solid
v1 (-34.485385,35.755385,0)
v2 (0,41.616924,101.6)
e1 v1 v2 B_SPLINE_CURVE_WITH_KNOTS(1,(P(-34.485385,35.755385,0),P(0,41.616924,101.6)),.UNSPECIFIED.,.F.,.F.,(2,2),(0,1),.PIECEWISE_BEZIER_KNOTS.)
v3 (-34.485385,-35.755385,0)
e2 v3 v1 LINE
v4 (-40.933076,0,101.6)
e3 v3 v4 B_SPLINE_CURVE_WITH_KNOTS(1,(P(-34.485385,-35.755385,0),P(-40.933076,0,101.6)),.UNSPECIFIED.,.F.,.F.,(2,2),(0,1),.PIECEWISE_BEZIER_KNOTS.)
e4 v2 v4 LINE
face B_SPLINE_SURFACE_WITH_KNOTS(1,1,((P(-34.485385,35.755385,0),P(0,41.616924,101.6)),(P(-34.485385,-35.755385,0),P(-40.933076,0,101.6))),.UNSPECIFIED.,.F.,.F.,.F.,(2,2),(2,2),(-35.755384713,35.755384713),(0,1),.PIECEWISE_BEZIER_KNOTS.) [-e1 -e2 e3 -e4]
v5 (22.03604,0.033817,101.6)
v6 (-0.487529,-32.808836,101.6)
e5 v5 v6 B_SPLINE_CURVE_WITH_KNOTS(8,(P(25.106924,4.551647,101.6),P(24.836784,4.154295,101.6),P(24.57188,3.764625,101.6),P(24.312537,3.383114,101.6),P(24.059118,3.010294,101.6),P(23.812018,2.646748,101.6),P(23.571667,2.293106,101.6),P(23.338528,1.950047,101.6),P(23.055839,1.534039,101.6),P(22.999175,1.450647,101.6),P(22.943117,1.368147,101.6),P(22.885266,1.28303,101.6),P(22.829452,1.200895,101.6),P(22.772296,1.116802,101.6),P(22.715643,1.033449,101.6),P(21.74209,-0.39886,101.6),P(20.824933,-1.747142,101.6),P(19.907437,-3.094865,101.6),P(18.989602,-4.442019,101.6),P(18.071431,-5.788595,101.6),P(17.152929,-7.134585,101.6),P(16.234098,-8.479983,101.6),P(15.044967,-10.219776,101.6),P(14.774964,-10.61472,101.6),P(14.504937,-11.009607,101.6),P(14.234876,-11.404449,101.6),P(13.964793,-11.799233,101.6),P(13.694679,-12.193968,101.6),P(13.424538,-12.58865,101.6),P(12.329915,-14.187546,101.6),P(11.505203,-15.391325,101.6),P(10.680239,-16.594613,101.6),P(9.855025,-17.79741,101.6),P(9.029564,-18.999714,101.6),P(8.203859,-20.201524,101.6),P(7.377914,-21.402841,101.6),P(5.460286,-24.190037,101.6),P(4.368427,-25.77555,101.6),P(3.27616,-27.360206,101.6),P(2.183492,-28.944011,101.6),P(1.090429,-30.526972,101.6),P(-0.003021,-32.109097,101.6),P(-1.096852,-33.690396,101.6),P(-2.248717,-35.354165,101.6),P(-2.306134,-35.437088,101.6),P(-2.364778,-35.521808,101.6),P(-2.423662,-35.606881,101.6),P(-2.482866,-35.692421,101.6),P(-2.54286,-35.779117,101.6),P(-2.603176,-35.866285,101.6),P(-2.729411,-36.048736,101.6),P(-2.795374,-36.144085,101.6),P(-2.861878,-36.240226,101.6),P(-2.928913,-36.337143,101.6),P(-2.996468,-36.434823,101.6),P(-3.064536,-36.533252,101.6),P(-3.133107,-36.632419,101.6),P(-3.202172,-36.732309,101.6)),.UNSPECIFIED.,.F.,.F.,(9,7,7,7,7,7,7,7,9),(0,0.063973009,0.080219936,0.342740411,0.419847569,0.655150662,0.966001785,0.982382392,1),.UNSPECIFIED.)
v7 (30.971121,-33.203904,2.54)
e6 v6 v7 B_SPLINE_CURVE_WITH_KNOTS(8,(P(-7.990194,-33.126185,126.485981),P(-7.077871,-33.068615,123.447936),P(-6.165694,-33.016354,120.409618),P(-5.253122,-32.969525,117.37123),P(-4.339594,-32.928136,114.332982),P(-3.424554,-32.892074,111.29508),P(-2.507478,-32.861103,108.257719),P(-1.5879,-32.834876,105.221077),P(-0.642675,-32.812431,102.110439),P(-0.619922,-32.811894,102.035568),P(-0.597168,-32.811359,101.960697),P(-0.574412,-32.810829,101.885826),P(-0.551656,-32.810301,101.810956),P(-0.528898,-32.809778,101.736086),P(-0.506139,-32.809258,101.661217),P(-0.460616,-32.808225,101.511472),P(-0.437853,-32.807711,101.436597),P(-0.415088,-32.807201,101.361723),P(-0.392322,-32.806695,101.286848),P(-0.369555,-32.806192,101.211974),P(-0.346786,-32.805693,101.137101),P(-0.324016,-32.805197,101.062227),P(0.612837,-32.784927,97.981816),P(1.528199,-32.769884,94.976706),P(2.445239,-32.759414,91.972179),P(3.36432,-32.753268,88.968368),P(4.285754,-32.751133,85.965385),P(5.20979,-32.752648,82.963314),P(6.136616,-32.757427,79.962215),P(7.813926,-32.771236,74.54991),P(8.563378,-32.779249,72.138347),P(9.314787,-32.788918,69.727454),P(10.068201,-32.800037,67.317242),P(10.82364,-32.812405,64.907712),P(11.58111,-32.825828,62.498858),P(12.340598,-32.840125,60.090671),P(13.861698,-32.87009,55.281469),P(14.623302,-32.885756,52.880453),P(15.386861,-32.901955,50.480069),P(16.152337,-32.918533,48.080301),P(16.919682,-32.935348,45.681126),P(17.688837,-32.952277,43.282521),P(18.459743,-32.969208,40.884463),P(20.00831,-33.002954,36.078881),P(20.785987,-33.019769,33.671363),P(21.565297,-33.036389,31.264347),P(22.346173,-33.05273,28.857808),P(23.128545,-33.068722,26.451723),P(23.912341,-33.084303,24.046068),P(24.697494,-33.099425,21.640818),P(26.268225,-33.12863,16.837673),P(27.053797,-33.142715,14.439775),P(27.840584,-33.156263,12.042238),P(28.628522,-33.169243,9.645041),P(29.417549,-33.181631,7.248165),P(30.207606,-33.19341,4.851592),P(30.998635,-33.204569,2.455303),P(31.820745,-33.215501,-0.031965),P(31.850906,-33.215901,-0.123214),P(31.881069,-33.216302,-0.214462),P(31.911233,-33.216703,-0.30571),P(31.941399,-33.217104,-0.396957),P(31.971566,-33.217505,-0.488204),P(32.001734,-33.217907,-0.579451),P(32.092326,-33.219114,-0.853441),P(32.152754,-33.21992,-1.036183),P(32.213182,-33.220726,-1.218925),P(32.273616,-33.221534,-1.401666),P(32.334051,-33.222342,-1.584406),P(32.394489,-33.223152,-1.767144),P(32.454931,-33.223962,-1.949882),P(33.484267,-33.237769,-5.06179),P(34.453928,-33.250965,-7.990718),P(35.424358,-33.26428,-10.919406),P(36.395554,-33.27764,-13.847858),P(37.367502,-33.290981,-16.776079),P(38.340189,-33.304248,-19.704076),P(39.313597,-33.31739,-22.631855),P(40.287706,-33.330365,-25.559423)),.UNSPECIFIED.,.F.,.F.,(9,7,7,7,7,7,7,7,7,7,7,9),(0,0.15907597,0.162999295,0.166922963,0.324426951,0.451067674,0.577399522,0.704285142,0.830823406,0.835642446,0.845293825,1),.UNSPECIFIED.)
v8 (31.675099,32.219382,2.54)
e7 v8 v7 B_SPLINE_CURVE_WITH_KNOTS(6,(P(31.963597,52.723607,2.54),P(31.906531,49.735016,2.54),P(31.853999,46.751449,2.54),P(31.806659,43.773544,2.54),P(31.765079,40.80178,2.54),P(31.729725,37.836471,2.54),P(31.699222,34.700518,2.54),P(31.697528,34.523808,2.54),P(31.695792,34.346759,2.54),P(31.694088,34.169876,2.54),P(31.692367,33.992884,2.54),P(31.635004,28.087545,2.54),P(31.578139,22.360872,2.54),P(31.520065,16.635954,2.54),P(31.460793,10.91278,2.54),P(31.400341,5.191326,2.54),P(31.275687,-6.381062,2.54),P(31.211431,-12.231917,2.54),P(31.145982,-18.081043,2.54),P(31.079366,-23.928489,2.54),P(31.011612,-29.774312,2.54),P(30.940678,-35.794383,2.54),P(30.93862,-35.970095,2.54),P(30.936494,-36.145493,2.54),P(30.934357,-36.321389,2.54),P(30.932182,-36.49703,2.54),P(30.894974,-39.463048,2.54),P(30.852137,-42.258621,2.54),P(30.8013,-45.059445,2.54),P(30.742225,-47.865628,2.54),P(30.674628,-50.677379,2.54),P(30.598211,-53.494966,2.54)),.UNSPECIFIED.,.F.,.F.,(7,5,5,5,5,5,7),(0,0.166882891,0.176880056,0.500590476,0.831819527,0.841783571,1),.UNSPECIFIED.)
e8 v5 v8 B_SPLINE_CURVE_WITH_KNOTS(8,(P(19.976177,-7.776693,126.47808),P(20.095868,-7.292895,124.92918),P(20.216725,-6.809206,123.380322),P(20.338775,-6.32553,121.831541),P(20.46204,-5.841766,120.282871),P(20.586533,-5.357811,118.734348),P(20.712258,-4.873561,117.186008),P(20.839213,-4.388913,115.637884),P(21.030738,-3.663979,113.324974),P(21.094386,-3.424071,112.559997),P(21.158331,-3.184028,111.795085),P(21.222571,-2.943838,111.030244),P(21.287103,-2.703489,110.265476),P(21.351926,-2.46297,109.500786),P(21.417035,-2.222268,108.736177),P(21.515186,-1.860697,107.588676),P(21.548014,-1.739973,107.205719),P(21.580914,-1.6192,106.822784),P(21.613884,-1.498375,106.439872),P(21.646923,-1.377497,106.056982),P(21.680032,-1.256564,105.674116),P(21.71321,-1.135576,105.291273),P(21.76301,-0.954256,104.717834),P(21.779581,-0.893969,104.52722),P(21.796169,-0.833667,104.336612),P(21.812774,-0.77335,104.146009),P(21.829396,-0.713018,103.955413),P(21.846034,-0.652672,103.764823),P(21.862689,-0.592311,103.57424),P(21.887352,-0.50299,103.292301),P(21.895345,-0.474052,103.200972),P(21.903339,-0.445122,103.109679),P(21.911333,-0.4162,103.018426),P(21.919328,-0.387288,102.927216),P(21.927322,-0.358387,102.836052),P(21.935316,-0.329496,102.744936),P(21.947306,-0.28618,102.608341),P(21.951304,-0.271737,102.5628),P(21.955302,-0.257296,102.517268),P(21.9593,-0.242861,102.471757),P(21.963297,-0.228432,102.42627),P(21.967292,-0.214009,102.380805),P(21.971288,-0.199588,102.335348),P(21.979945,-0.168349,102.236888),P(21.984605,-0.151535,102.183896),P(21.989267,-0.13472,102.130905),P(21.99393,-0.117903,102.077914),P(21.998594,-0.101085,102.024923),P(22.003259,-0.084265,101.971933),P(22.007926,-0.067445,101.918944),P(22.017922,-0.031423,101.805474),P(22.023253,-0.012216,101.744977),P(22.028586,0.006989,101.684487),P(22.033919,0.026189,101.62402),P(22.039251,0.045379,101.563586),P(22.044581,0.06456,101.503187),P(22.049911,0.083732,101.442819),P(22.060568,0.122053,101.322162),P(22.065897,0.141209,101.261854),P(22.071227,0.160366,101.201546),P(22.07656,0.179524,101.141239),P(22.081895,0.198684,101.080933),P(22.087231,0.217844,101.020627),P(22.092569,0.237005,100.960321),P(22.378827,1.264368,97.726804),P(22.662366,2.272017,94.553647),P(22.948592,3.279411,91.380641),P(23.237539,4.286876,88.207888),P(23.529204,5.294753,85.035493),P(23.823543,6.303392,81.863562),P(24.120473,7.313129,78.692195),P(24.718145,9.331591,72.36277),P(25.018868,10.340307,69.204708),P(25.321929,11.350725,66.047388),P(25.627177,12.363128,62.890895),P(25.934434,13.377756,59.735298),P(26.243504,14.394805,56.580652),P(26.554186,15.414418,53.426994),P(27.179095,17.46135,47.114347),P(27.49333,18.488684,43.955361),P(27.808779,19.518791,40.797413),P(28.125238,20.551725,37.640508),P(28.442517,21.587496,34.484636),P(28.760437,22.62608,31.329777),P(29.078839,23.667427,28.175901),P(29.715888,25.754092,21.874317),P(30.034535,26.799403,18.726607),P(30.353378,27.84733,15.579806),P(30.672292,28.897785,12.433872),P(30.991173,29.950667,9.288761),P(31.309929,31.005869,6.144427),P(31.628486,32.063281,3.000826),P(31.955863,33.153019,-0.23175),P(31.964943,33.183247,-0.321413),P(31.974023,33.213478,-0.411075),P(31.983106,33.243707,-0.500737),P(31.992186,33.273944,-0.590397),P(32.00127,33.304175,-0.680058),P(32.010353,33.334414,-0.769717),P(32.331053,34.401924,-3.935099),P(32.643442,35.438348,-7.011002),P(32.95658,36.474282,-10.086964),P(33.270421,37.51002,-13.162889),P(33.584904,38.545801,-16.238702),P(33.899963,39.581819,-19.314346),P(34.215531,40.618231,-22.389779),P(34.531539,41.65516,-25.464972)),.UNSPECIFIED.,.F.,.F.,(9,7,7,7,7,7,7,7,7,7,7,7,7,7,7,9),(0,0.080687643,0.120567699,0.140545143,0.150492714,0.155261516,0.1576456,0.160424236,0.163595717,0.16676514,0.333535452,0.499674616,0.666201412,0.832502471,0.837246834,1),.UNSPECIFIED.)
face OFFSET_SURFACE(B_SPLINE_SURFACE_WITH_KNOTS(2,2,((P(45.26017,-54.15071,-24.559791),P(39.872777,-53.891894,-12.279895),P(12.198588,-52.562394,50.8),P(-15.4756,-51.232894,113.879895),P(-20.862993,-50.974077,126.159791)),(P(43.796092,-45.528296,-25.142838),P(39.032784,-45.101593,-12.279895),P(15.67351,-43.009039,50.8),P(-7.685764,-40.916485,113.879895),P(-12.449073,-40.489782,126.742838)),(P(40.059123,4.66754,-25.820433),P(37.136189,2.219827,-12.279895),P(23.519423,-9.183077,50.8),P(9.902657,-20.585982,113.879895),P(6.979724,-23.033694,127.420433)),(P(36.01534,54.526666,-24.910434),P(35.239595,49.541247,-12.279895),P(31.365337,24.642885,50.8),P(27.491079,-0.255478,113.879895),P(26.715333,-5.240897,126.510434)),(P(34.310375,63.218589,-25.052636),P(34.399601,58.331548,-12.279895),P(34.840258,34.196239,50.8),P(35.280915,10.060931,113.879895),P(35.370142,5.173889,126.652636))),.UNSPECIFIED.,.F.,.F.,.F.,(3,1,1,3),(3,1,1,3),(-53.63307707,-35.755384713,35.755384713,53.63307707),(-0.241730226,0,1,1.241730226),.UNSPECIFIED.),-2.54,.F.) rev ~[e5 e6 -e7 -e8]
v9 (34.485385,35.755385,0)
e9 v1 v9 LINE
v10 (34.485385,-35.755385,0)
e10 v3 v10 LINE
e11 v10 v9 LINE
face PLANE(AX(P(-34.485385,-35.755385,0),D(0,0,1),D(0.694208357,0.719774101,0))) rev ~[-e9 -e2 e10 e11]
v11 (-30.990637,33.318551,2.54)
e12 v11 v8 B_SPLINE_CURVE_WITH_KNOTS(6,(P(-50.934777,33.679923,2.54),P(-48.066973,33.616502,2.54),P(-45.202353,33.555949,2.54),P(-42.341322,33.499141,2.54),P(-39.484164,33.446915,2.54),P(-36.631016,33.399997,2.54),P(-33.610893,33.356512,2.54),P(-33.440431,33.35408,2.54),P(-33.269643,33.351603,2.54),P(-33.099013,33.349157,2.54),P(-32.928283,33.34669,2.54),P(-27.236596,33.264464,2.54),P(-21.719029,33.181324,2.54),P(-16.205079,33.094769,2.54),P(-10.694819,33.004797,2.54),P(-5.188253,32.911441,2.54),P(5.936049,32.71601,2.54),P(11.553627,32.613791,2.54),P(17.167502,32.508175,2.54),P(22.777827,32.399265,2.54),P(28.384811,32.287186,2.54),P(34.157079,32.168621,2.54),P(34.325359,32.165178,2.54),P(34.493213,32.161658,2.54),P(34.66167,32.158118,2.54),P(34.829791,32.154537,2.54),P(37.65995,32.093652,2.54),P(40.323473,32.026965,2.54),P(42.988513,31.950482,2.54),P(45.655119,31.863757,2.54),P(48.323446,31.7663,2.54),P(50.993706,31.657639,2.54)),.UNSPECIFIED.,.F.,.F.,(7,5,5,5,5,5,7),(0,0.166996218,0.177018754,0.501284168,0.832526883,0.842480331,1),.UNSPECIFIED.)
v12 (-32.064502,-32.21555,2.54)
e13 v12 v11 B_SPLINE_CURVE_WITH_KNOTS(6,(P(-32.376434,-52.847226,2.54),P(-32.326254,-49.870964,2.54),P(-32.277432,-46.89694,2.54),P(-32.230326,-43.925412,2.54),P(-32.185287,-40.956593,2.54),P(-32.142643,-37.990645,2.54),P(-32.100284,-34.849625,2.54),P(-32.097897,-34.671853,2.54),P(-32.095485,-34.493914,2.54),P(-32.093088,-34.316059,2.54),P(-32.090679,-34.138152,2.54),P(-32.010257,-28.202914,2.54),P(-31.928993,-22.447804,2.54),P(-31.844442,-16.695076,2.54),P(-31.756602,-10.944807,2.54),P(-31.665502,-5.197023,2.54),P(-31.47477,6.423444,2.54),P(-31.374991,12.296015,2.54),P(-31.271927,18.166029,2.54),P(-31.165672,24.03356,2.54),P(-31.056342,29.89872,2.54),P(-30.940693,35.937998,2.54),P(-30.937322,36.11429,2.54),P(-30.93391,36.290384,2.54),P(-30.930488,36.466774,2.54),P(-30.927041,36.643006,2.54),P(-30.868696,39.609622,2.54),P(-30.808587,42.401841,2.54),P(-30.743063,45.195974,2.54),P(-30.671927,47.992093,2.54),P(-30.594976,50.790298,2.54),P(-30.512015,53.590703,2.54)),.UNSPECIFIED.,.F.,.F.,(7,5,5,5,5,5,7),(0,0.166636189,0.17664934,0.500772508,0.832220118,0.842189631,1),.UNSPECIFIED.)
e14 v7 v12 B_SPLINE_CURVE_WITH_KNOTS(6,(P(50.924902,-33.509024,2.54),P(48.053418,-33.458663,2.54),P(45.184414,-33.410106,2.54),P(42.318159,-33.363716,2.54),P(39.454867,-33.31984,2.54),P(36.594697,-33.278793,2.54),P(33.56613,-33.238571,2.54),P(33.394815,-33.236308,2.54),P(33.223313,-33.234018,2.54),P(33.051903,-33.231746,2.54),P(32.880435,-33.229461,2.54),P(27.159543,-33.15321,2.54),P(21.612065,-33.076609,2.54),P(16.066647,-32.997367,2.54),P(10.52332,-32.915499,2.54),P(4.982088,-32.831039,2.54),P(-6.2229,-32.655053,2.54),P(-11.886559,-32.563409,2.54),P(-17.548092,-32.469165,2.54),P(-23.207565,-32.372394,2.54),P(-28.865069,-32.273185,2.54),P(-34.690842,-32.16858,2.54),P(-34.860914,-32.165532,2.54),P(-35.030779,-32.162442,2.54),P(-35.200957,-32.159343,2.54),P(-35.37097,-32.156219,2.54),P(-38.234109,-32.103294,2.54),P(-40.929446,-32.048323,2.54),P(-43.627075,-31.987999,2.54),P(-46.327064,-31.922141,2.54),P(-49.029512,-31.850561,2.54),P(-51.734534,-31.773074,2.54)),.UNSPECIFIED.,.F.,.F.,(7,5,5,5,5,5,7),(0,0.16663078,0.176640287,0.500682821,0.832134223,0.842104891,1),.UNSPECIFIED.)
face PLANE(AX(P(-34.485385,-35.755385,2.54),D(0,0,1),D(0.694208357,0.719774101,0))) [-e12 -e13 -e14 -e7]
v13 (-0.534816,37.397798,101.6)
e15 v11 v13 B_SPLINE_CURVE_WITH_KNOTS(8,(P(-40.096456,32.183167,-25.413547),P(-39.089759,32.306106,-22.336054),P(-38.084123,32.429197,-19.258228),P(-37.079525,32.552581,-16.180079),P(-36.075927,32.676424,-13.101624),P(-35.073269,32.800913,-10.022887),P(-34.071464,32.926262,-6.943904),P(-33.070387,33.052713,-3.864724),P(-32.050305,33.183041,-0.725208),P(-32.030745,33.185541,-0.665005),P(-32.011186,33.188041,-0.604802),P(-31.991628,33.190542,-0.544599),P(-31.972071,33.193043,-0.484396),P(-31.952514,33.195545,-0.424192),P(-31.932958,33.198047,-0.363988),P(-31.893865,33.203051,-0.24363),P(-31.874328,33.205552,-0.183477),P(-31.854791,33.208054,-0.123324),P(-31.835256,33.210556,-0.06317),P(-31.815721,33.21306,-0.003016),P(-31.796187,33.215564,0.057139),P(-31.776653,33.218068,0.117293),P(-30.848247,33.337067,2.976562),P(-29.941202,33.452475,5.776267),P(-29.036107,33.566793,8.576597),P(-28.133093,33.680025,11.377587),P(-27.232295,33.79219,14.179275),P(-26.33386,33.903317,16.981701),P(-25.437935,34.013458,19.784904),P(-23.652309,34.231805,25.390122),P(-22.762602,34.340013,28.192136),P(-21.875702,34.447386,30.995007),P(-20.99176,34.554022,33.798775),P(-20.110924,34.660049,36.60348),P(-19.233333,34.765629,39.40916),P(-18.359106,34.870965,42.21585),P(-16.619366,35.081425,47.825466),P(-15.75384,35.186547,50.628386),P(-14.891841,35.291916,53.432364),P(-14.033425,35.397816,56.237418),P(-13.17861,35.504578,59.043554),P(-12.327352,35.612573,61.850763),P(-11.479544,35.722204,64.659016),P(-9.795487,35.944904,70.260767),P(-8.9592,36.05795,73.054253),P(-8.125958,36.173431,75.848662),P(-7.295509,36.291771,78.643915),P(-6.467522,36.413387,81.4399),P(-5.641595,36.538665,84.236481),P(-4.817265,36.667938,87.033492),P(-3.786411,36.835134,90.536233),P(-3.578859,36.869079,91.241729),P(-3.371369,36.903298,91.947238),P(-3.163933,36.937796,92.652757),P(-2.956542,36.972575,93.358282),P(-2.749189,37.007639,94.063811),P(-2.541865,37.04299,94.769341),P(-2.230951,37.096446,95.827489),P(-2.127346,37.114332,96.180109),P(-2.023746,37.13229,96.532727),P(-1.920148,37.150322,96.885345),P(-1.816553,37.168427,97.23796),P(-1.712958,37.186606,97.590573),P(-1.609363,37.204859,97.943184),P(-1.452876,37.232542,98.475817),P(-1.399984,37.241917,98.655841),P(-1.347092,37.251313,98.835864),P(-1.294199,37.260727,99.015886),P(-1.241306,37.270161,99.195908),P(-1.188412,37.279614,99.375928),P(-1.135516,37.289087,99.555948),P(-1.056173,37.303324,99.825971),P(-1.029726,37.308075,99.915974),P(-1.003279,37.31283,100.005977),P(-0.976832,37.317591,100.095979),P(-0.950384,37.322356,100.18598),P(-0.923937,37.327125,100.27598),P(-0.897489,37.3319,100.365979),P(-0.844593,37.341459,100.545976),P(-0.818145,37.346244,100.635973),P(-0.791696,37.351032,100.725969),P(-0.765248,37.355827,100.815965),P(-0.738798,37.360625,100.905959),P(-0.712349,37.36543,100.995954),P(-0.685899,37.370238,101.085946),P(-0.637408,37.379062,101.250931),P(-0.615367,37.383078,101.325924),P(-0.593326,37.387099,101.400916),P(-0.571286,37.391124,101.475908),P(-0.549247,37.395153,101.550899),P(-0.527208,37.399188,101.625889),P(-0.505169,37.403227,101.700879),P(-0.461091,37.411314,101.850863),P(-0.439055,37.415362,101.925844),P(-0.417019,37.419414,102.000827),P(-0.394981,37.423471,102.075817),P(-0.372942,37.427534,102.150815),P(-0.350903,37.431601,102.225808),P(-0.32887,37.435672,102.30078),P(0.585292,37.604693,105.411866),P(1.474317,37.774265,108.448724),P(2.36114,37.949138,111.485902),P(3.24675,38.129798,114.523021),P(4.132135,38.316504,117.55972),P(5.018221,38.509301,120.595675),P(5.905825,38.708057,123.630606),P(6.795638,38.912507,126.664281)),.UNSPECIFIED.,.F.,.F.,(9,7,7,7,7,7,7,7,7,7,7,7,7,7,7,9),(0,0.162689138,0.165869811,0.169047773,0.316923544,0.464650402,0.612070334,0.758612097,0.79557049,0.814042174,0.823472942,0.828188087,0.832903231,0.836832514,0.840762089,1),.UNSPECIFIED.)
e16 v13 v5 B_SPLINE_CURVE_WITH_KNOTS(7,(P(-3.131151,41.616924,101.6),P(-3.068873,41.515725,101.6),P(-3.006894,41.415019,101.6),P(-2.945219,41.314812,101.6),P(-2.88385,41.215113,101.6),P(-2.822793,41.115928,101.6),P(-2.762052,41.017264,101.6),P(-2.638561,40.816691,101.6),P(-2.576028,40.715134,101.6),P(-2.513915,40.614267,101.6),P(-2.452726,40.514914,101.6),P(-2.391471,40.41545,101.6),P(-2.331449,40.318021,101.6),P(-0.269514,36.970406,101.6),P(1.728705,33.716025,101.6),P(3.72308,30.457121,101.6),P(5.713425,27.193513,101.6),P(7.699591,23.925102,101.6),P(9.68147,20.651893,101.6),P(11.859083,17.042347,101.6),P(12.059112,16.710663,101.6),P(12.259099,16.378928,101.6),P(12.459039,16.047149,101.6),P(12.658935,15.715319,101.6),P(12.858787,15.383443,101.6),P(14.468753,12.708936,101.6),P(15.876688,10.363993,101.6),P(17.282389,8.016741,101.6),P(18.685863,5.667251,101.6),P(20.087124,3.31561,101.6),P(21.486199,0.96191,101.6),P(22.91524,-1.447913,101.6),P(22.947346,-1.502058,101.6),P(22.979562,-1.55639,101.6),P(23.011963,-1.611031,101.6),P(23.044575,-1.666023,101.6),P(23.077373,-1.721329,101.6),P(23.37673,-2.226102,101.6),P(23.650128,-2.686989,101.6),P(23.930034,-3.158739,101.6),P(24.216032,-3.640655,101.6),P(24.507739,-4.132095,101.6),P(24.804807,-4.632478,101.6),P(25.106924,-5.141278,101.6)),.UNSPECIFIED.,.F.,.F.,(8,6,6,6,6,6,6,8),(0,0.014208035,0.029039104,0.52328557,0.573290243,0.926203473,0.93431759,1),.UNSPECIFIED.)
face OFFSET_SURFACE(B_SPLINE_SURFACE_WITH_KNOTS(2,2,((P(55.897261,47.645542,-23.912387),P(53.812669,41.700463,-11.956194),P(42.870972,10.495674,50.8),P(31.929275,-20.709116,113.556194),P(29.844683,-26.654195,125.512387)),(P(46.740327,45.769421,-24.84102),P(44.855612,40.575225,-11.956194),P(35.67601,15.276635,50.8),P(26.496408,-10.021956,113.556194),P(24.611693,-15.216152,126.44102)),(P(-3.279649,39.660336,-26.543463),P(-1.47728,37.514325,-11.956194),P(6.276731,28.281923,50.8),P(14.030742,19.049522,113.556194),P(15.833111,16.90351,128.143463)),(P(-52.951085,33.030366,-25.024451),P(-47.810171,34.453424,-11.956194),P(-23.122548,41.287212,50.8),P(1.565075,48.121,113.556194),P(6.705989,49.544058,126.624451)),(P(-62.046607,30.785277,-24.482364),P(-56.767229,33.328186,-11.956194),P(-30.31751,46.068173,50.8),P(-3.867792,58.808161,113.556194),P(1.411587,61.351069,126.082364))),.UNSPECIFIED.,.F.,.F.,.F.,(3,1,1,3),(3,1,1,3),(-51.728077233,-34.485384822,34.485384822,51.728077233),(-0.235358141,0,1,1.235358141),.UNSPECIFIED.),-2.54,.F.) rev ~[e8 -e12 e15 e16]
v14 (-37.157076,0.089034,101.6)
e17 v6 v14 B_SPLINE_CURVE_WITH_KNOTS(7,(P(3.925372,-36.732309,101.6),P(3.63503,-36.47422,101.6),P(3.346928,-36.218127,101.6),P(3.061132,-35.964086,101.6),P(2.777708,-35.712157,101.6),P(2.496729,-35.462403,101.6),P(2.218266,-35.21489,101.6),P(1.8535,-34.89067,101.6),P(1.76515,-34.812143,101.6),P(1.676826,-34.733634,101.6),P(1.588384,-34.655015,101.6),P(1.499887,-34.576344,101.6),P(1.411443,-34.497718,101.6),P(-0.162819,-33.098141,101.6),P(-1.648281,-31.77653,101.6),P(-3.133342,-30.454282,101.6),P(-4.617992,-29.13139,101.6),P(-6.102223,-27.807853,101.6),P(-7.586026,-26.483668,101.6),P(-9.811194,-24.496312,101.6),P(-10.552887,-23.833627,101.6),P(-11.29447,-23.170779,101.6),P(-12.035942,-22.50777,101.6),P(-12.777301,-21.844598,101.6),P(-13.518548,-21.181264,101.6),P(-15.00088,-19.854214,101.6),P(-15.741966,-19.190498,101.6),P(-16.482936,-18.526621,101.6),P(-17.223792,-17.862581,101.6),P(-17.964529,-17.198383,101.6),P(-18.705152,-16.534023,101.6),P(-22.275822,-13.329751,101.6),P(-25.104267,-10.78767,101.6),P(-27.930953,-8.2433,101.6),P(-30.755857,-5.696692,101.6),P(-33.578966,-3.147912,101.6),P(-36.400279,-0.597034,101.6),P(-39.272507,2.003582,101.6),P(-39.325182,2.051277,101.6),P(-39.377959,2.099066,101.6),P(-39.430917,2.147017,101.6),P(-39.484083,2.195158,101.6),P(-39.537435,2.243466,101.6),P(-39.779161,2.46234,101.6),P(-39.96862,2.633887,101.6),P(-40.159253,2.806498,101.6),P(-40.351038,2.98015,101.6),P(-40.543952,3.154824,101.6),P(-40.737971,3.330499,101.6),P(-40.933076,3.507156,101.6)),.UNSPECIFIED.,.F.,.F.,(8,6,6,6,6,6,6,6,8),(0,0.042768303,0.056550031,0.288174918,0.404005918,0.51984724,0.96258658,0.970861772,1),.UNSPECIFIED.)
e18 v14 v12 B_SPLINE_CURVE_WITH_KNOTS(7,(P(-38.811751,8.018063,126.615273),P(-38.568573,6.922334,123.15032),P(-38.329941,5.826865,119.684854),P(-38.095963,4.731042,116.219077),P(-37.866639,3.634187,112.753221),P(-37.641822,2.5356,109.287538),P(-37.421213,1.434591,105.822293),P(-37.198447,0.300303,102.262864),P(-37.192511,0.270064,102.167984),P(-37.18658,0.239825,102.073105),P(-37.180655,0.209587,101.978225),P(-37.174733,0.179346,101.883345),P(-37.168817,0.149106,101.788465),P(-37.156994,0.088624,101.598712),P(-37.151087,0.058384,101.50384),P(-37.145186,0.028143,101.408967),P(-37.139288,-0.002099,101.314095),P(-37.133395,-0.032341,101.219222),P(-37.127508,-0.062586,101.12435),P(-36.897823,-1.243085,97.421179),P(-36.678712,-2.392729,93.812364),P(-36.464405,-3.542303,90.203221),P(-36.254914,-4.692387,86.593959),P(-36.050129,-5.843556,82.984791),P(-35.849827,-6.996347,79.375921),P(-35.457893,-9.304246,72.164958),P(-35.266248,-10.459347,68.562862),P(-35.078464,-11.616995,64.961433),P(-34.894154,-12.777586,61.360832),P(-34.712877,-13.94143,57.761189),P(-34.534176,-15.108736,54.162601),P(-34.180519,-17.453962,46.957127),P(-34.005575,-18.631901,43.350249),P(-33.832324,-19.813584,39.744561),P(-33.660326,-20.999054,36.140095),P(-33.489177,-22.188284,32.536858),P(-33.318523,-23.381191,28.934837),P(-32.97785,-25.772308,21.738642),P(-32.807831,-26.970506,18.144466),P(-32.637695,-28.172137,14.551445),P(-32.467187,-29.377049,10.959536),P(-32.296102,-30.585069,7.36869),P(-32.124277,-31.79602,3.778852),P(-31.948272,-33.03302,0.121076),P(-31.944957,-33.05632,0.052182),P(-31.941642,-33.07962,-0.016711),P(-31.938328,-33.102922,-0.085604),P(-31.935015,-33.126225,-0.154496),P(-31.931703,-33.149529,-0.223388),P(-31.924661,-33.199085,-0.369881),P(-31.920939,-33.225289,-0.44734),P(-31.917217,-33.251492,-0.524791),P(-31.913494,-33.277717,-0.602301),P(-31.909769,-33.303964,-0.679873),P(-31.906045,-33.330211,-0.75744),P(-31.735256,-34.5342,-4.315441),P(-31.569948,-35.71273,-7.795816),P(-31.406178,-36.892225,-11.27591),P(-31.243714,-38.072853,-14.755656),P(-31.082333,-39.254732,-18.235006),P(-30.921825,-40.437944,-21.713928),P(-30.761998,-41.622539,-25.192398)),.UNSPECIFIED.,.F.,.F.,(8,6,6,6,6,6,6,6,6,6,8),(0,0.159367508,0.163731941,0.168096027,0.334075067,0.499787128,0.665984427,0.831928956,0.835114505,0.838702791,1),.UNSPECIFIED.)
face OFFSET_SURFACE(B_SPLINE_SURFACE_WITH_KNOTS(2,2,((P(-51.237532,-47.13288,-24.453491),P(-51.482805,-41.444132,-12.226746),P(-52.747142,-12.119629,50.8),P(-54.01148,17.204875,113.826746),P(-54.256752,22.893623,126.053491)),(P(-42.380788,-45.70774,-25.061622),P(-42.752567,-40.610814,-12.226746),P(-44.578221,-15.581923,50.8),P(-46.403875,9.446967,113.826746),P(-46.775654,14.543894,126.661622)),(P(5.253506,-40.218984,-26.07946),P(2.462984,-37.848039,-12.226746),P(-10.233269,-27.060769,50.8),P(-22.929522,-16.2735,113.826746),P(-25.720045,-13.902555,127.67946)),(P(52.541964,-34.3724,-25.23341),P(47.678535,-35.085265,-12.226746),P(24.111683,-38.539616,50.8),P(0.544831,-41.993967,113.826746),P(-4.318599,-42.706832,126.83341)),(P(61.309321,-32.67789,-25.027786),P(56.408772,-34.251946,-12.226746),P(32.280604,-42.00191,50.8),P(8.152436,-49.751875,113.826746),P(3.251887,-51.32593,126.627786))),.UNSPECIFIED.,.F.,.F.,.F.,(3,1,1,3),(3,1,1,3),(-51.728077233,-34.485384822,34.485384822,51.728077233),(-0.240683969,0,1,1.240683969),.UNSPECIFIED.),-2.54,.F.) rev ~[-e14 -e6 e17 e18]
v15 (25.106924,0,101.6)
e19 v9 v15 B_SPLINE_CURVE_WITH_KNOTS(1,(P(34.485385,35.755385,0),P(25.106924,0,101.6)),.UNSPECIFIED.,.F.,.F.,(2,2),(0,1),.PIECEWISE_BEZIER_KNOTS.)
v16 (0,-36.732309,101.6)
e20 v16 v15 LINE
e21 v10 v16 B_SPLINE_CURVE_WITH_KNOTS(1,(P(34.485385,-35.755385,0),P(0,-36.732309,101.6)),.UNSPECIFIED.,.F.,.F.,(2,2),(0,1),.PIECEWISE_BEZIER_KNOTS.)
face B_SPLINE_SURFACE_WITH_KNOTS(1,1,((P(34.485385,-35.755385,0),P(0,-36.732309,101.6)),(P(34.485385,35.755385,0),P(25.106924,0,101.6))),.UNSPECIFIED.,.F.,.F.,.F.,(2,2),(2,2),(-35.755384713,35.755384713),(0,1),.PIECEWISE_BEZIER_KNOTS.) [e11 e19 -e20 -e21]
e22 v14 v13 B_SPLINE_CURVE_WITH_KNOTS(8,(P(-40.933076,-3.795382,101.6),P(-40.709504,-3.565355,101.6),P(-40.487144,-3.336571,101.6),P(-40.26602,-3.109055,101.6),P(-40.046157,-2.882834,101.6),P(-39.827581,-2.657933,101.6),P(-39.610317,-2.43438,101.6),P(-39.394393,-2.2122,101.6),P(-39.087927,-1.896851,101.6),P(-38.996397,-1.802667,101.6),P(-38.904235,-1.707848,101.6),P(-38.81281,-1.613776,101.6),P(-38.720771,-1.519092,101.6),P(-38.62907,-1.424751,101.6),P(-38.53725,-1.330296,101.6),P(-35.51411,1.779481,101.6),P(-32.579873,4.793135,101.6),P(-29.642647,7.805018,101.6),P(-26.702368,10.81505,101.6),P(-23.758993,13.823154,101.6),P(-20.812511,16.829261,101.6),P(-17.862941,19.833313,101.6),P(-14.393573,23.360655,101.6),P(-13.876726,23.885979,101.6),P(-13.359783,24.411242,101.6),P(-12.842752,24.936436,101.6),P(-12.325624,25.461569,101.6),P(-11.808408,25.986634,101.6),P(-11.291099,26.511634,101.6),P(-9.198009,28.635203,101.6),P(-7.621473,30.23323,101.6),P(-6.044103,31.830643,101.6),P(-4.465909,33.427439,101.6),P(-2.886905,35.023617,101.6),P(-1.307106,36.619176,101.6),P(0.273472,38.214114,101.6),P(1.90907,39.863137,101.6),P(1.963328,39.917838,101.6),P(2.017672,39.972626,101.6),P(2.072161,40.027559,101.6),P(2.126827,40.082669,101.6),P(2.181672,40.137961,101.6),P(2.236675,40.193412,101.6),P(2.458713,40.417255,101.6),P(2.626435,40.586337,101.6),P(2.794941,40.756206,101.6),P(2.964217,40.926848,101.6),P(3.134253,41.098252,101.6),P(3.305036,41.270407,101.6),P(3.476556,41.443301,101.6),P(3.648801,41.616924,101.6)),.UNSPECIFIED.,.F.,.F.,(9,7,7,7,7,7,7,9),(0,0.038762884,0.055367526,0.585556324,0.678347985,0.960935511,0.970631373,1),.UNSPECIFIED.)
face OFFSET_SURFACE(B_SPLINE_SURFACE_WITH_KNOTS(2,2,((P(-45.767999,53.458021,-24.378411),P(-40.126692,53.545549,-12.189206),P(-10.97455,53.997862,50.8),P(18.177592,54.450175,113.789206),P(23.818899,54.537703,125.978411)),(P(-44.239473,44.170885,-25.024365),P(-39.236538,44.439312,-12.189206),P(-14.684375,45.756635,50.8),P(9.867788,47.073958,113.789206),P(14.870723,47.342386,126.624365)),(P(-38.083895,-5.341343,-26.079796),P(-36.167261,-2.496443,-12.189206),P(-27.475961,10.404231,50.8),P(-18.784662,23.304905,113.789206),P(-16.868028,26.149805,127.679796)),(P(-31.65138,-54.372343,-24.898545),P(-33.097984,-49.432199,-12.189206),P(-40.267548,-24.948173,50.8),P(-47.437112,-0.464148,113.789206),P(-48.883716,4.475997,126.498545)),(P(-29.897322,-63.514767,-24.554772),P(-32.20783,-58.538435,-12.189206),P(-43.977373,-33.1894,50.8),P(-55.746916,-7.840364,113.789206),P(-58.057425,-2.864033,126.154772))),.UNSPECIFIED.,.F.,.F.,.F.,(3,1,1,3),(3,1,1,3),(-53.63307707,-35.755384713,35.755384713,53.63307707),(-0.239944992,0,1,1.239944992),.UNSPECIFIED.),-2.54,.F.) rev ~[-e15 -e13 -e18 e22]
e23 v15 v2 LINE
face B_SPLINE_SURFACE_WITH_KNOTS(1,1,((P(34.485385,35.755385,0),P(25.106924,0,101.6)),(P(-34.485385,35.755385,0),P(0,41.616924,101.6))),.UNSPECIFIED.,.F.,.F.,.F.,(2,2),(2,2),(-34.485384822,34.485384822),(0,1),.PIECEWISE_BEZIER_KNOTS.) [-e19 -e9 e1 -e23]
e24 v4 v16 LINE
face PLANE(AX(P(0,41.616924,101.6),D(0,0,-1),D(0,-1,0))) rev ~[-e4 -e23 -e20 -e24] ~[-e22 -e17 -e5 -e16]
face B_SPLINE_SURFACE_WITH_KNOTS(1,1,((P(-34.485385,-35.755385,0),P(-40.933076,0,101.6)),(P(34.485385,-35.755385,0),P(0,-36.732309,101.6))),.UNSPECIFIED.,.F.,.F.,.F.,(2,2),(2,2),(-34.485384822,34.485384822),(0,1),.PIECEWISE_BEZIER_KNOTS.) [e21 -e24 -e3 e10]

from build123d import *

# Parameters (mm, degrees)
F0_W = 68.9707696438
F0_H = 71.5107694268
F4_T = -2.54


with BuildPart() as f3:
    # F0 (on Top) → F3 section 0
    with BuildSketch(Plane.XY):
        Rectangle(F0_W, F0_H)
    # F2 (on offset) → F3 section 1
    with BuildSketch(Plane.XY.offset(101.6)):
        Polygon((25.1069236547, 0), (0, 41.6169241071), (-40.9330762923, 0), (0, -36.7323085666), align=None)
    loft()

    # F4
    f4_openings = [f3.faces().sort_by_distance(p)[0] for p in [
        (-5.275384, 1.628205, 101.6),
    ]]
    offset(amount=F4_T, openings=f4_openings, kind=Kind.INTERSECTION)


solid = f3.part
